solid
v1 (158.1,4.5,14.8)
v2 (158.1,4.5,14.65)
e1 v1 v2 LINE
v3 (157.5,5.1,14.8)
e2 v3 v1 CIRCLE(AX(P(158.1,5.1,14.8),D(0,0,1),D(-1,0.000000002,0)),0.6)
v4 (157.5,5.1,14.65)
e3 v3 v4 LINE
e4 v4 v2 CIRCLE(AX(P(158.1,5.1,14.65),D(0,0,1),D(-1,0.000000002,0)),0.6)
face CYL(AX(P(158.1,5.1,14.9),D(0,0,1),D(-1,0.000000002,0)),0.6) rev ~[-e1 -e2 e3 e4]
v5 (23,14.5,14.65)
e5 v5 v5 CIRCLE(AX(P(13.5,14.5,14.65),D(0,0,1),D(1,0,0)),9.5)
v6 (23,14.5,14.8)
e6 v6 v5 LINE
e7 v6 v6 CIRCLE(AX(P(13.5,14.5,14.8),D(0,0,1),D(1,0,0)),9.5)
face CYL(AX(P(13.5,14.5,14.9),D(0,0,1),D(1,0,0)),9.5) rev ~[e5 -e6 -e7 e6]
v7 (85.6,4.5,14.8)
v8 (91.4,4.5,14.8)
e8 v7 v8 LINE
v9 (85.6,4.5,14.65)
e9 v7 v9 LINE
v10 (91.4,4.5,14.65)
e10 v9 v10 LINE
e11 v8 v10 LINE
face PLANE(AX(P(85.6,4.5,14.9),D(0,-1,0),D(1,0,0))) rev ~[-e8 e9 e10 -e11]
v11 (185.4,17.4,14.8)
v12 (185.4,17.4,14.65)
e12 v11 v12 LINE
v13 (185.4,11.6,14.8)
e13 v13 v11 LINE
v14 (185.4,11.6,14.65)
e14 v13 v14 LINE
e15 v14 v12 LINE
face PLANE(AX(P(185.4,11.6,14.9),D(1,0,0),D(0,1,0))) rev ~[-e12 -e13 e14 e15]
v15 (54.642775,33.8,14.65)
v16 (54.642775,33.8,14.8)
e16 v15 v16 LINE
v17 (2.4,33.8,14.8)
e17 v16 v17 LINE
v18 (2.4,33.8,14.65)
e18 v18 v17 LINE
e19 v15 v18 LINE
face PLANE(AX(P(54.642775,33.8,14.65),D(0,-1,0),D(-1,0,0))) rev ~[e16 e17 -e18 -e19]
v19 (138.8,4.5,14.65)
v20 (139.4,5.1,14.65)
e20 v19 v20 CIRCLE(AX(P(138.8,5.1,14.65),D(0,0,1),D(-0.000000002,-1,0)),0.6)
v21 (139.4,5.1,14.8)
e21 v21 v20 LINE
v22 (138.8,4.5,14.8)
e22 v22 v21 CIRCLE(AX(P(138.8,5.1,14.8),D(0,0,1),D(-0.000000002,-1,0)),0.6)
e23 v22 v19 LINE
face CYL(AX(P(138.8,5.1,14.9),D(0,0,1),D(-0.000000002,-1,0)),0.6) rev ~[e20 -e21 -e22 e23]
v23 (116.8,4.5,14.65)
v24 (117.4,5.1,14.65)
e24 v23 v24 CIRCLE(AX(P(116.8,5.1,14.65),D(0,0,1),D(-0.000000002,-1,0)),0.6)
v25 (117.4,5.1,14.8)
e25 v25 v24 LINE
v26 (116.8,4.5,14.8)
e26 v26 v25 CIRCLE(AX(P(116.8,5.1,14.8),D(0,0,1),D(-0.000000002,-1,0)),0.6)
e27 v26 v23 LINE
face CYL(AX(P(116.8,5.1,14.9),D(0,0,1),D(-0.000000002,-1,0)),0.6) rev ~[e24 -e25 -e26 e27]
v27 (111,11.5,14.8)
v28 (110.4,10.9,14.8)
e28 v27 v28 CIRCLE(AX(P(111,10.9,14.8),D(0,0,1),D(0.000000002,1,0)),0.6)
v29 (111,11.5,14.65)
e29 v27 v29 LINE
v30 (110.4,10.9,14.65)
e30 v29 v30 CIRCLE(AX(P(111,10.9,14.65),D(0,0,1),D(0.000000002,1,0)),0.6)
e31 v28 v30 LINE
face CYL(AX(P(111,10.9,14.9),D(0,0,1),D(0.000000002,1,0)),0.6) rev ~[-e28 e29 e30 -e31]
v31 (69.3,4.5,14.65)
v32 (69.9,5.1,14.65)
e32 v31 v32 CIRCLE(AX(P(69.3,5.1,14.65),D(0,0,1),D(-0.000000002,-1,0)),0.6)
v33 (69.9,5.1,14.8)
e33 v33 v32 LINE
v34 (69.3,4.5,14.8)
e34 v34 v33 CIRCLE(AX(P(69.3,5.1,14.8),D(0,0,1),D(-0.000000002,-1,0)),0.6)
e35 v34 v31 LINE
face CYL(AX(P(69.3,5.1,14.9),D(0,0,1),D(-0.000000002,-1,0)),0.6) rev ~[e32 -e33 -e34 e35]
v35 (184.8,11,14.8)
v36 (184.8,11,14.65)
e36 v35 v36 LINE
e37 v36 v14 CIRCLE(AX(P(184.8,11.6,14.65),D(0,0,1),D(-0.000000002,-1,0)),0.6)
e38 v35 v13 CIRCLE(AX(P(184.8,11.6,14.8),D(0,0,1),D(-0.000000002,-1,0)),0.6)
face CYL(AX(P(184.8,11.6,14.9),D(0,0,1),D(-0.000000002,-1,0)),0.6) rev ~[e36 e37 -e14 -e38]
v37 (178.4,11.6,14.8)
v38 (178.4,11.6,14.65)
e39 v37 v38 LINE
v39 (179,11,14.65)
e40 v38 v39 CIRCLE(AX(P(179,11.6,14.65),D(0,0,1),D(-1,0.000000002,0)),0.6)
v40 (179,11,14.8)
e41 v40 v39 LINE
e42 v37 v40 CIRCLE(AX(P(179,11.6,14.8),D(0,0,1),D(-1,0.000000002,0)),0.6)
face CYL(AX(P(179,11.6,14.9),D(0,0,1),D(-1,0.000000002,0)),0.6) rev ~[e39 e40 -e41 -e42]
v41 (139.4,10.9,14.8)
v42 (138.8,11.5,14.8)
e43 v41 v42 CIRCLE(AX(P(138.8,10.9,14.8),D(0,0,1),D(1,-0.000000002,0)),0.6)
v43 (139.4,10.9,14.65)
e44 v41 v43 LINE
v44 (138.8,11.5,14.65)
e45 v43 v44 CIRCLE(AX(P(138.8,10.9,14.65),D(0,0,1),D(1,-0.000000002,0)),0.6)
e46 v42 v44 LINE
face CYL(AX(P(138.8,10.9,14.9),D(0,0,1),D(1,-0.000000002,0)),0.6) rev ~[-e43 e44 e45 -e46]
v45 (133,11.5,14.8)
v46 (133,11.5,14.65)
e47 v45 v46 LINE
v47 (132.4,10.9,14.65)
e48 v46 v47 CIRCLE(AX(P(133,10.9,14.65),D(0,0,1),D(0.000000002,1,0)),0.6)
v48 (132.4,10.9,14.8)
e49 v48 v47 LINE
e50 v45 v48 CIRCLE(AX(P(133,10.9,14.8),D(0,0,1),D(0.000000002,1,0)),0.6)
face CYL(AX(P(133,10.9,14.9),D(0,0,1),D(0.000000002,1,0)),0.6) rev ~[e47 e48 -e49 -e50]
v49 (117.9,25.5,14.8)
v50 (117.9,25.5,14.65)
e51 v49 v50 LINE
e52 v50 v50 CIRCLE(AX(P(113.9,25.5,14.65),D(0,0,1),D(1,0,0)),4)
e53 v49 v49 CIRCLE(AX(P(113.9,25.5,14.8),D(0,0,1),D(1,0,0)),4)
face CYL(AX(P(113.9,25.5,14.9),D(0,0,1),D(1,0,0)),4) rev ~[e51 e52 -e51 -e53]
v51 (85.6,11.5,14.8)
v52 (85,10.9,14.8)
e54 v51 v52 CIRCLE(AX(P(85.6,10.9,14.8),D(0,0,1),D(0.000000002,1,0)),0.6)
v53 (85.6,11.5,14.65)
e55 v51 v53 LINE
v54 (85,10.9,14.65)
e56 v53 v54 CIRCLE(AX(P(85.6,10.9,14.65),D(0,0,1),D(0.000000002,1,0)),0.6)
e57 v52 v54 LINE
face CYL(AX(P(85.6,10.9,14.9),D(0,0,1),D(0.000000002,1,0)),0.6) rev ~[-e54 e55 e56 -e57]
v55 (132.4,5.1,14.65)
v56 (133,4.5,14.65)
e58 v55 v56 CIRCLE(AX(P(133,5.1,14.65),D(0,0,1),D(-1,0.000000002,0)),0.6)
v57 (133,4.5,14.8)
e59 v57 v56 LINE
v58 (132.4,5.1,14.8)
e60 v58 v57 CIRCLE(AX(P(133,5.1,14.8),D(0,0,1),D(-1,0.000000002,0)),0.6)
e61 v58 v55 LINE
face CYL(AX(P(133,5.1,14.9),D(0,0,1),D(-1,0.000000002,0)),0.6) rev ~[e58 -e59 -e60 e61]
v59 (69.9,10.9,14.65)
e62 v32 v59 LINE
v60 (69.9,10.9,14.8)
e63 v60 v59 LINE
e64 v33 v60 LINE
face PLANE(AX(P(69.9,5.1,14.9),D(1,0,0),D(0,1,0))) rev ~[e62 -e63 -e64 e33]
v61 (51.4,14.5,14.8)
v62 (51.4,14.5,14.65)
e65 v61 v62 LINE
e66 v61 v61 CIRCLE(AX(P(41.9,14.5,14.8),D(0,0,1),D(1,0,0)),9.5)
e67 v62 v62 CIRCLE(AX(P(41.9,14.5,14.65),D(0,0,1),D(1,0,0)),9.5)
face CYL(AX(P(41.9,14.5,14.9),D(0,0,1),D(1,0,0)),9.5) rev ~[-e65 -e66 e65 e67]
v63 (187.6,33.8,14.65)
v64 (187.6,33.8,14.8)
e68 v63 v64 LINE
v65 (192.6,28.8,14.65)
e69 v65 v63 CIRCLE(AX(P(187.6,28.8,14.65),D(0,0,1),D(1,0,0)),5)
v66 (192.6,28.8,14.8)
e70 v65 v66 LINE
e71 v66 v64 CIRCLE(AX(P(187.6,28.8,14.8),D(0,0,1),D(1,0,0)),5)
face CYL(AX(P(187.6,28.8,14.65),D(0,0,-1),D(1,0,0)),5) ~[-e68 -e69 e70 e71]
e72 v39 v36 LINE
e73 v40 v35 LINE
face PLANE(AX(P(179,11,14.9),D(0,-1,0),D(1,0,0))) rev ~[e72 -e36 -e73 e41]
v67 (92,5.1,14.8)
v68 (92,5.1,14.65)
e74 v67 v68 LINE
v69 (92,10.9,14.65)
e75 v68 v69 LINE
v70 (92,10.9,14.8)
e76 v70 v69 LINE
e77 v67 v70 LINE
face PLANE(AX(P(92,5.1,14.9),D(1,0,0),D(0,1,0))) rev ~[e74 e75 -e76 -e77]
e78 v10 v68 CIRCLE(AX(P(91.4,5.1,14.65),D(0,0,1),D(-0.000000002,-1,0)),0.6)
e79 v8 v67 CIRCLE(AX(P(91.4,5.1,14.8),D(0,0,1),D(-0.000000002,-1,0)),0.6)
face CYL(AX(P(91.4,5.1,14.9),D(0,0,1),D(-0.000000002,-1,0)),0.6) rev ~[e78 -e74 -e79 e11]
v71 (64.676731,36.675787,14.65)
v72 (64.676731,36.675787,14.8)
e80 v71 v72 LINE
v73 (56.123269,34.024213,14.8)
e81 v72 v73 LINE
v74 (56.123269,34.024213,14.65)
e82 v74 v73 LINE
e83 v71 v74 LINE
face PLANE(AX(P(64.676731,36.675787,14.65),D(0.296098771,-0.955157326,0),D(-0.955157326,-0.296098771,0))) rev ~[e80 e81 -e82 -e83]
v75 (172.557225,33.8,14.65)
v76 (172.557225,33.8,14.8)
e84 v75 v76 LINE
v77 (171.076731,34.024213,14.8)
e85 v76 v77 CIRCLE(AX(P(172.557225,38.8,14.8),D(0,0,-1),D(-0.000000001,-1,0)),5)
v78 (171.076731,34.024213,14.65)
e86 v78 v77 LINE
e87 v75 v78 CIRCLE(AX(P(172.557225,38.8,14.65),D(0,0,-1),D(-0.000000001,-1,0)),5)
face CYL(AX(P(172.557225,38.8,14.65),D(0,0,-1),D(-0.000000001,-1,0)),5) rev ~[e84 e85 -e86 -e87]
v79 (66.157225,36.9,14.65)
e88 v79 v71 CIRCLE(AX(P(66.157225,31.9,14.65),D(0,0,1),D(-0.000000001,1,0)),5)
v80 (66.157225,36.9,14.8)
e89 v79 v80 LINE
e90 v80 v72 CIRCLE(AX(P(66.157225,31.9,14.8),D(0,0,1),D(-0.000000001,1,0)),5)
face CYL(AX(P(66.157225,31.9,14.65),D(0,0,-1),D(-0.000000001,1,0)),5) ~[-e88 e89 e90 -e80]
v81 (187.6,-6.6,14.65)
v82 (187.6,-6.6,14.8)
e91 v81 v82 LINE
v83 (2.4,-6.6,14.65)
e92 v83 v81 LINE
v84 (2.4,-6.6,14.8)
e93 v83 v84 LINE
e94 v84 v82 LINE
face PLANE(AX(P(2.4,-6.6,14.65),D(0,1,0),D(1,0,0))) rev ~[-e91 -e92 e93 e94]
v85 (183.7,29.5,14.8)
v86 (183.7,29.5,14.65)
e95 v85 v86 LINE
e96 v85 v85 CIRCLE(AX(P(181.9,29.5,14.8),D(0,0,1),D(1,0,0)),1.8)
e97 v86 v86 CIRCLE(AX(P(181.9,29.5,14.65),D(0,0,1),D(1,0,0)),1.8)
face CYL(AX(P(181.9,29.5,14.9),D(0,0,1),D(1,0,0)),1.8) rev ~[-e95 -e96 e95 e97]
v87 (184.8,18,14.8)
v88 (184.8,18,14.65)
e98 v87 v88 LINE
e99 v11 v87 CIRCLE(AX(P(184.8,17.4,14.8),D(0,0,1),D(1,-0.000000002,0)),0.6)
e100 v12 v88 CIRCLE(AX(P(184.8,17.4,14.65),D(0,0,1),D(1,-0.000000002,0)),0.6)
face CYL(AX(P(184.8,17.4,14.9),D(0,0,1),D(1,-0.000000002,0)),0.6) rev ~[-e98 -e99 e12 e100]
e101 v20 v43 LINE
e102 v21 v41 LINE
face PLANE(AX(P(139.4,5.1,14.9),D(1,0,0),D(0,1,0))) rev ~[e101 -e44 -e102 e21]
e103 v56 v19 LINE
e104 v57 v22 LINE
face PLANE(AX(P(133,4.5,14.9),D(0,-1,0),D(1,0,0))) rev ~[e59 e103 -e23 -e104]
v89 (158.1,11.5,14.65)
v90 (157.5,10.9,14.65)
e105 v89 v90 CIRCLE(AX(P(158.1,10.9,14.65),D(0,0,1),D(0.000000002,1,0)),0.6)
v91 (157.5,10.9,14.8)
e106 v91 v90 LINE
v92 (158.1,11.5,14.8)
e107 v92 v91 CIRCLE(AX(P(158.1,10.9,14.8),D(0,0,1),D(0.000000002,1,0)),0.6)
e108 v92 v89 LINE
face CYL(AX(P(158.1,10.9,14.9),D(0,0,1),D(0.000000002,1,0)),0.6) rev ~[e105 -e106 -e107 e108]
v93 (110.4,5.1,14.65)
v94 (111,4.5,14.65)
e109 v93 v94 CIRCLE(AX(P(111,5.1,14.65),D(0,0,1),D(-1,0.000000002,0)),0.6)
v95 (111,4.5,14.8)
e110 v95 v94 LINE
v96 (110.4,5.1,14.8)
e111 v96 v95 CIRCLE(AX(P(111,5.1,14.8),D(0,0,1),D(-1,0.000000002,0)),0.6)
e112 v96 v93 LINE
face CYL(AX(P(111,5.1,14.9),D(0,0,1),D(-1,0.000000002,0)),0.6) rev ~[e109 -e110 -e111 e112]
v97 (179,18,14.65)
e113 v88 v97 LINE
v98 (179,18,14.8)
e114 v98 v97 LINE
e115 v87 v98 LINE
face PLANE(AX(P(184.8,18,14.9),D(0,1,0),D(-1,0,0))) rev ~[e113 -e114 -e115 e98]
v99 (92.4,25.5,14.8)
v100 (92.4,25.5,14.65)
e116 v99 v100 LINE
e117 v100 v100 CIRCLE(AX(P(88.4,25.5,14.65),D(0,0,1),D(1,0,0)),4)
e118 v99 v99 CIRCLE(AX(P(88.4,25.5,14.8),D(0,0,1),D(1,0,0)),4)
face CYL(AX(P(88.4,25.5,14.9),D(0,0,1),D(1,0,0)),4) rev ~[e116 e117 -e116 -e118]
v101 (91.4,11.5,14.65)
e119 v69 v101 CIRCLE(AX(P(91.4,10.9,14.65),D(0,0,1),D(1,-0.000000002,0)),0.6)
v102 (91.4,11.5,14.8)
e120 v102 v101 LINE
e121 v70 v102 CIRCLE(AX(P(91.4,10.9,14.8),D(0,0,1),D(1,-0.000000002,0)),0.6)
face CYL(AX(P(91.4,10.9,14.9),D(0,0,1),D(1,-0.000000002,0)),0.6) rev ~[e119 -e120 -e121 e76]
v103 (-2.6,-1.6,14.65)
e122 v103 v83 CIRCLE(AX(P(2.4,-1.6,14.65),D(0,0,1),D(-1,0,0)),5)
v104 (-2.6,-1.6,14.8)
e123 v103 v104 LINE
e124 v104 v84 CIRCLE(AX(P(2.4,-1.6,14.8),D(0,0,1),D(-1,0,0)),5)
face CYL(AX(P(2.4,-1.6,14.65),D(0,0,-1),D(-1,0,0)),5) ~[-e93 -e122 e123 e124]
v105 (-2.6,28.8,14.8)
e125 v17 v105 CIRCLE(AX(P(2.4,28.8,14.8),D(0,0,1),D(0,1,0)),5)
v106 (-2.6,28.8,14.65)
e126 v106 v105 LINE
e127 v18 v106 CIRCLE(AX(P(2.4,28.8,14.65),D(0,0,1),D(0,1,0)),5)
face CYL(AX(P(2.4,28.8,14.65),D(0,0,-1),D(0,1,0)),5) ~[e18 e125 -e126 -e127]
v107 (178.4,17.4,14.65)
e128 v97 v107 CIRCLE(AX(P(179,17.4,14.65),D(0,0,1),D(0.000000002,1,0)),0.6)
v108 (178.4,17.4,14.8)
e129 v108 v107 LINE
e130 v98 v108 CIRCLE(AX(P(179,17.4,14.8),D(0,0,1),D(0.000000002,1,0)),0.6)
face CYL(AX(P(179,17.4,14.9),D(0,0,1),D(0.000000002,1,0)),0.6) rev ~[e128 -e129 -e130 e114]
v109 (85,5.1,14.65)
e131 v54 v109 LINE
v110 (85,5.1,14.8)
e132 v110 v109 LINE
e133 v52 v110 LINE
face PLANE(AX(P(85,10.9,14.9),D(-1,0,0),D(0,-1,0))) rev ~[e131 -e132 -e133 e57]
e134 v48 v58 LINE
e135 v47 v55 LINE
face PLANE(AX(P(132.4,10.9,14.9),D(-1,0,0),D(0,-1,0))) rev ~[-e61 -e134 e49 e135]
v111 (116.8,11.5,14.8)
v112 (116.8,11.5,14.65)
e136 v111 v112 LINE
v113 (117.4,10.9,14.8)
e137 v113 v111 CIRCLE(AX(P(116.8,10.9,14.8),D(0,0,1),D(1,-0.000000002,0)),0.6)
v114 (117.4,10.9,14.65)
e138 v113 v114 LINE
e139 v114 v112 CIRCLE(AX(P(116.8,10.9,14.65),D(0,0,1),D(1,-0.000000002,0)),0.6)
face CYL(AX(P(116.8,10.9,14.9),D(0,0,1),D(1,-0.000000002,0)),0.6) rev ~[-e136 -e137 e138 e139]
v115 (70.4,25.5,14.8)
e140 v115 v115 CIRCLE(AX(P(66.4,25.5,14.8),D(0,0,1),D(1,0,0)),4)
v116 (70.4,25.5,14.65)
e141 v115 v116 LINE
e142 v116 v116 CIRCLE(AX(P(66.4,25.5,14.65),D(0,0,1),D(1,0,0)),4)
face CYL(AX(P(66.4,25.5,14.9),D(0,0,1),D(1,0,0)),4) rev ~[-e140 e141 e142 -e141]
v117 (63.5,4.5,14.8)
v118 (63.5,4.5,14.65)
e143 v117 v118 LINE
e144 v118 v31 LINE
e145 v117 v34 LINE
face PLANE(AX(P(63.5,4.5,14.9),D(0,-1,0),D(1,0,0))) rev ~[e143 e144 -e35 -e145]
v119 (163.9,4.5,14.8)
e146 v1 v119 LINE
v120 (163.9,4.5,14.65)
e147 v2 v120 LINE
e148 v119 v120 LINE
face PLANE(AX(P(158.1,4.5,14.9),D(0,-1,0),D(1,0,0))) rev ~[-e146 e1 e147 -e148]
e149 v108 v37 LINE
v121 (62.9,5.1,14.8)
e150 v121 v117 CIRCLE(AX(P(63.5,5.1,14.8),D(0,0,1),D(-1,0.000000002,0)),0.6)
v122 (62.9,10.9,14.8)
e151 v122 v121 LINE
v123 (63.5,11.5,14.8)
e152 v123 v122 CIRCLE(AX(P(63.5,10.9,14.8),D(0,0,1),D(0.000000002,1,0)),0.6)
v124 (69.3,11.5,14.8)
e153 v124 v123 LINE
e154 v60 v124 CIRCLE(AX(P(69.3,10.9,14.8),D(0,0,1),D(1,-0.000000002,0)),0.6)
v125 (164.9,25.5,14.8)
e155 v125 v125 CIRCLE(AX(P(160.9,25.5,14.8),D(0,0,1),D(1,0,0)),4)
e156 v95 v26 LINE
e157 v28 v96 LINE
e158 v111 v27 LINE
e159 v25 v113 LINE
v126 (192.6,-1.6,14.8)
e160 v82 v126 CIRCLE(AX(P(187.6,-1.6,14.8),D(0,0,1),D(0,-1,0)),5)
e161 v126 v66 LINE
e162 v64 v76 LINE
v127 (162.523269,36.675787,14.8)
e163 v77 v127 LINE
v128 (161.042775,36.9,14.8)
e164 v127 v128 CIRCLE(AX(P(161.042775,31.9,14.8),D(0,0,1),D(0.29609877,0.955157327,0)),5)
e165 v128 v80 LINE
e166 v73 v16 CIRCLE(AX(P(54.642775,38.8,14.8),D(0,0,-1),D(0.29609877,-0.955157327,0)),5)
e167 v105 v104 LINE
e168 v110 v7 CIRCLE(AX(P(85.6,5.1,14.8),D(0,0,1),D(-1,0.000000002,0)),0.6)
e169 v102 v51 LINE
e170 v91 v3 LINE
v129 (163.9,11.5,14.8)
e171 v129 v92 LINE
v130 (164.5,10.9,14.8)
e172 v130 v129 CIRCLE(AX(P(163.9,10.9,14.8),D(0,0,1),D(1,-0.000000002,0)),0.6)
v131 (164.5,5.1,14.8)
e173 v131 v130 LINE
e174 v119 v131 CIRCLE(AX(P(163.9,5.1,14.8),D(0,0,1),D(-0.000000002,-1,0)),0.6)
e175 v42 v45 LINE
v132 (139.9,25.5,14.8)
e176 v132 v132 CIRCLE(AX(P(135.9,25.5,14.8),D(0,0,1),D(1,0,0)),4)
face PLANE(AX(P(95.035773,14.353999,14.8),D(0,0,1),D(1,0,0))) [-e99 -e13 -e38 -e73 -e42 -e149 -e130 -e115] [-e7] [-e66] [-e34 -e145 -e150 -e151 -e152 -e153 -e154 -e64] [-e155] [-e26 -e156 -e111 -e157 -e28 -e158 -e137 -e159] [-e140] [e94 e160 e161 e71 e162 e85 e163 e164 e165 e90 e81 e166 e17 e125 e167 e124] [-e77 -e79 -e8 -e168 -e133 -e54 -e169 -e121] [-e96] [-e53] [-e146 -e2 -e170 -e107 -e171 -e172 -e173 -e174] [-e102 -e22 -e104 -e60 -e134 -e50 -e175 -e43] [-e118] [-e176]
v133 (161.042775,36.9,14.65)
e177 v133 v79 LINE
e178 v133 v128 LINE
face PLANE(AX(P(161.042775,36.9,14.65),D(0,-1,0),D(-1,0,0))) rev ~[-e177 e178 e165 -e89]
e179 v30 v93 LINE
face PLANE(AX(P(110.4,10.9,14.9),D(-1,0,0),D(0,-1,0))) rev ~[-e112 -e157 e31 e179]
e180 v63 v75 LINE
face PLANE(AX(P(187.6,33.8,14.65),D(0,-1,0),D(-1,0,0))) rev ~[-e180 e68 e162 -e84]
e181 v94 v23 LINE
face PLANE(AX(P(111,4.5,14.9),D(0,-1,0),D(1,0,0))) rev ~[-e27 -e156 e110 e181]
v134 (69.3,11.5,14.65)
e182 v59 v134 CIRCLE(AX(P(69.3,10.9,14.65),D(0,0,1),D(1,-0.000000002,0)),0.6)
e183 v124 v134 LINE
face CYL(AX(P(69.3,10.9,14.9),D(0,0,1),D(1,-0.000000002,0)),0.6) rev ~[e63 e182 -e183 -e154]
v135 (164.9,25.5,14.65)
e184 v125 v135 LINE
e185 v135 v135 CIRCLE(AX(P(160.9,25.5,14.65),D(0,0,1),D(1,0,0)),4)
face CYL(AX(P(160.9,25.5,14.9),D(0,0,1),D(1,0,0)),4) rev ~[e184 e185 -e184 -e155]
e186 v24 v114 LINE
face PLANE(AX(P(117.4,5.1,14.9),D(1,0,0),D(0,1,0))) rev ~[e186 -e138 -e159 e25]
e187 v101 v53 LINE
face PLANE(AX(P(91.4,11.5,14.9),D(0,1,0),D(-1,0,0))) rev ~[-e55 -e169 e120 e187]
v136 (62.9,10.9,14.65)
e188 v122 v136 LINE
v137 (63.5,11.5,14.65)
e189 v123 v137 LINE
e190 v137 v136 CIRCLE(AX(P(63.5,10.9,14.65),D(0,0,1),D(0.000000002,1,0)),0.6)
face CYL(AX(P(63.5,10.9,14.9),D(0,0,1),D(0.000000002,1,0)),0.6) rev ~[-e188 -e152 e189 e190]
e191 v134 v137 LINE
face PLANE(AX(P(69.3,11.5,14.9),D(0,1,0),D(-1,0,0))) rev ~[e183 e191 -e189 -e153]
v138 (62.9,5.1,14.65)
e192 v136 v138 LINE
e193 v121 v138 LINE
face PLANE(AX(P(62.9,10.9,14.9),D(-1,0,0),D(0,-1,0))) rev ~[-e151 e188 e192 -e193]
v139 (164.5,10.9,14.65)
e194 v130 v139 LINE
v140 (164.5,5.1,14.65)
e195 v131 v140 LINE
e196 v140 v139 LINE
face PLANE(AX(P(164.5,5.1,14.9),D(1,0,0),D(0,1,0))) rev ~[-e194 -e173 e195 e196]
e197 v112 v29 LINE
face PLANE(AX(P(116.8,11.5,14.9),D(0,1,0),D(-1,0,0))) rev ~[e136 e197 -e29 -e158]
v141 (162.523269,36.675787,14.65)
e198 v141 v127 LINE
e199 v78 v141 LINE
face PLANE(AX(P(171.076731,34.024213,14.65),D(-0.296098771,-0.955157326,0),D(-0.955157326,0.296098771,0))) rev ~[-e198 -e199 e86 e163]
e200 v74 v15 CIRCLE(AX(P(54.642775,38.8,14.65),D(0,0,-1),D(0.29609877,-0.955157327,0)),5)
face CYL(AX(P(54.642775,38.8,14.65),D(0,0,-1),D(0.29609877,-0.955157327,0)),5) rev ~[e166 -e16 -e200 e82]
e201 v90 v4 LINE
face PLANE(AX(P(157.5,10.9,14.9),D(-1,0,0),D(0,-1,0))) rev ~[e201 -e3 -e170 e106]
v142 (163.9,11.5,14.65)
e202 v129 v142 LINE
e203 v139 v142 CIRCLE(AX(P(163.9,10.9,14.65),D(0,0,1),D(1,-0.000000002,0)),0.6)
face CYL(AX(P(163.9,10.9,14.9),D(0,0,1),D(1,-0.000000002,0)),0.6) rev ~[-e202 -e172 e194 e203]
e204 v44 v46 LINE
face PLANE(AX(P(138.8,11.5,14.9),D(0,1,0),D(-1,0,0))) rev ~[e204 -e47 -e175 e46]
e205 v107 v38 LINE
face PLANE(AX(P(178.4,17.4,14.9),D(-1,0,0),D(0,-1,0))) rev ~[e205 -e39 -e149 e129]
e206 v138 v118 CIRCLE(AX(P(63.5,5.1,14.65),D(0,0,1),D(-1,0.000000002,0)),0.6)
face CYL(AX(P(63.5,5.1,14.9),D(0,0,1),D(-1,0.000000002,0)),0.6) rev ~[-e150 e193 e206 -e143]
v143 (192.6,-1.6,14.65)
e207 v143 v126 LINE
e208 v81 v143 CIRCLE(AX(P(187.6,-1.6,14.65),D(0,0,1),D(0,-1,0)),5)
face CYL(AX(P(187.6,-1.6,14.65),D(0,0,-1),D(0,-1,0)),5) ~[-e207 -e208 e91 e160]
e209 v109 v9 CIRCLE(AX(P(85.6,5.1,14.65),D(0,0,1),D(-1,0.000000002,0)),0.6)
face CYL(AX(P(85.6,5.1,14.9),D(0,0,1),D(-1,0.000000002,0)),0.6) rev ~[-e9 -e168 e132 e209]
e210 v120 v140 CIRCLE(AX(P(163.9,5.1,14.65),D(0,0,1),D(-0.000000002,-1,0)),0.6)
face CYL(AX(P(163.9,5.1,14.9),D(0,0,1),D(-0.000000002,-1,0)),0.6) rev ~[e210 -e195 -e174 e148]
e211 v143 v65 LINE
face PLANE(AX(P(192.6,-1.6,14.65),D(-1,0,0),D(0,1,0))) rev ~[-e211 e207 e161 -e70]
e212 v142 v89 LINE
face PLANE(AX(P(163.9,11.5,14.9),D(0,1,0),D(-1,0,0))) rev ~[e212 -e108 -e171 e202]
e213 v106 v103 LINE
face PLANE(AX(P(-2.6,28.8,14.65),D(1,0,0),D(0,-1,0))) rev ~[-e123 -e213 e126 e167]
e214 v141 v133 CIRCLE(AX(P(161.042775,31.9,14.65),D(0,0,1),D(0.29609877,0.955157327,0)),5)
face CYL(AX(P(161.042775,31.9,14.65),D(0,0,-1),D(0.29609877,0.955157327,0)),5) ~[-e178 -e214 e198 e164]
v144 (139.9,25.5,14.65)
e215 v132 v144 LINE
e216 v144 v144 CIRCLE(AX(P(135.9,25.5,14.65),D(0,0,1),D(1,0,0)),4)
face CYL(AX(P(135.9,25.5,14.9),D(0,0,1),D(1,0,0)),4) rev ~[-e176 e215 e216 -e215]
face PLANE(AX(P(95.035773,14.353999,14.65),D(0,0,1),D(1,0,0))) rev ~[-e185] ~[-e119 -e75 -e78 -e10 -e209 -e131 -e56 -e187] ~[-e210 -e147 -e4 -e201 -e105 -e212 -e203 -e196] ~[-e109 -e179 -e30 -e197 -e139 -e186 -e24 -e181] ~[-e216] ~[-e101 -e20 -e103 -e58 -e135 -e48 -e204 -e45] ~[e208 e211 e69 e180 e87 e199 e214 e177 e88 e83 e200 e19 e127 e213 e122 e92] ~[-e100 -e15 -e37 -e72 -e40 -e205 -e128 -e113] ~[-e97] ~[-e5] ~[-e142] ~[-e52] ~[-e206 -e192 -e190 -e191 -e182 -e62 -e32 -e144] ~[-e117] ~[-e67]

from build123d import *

# Parameters (mm, degrees)
PRINTED_FILM_START              = 14.65
PRINTED_FILM_DEPTH              = 0.15
OPENING_BNC_CHANNEL_0_START     = 14.9
OPENING_BNC_CHANNEL_0_PROFILE_R = 9.5
OPENING_BNC_CHANNEL_0_DEPTH     = 0.35
OPENING_BNC_CHANNEL_1_START     = 14.9
OPENING_BNC_CHANNEL_1_PROFILE_R = 9.5
OPENING_BNC_CHANNEL_1_DEPTH     = 0.35
OPENING_LED_RUN_START           = 14.9
OPENING_LED_RUN_PROFILE_R       = 1.8
OPENING_LED_RUN_DEPTH           = 0.35
OPENING_FUNC_START              = 14.9
OPENING_FUNC_PROFILE_R          = 4
OPENING_FUNC_DEPTH              = 0.35
OPENING_TRG_MODE_START          = 14.9
OPENING_TRG_MODE_DEPTH          = 0.35
OPENING_CURSOR_START            = 14.9
OPENING_CURSOR_DEPTH            = 0.35
OPENING_EN_CH1_START            = 14.9
OPENING_EN_CH1_DEPTH            = 0.35
OPENING_TRG_START               = 14.9
OPENING_TRG_PROFILE_R           = 4
OPENING_TRG_DEPTH               = 0.35
OPENING_TIME_START              = 14.9
OPENING_TIME_PROFILE_R          = 4
OPENING_TIME_DEPTH              = 0.35
OPENING_SET_CH1_START           = 14.9
OPENING_SET_CH1_PROFILE_R       = 4
OPENING_SET_CH1_DEPTH           = 0.35
OPENING_SET_CH0_START           = 14.9
OPENING_SET_CH0_PROFILE_R       = 4
OPENING_SET_CH0_DEPTH           = 0.35
OPENING_RUN_STOP_START          = 14.9
OPENING_RUN_STOP_DEPTH          = 0.35
OPENING_MENU_BACK_START         = 14.9
OPENING_MENU_BACK_DEPTH         = 0.35
OPENING_EN_CH0_START            = 14.9
OPENING_EN_CH0_DEPTH            = 0.35


with BuildPart() as part:
    # Printed_film_profile → Printed_film (new body)
    with BuildSketch(Plane.XY.offset(PRINTED_FILM_START)):
        with BuildLine():
            Line((2.4, -6.6), (187.6, -6.6))
            ThreePointArc((187.6, -6.6), (191.135533906, -5.135533906), (192.6, -1.6))
            Line((192.6, -1.6), (192.6, 28.8))
            ThreePointArc((192.6, 28.8), (191.135533906, 32.335533906), (187.6, 33.8))
            Line((187.6, 33.8), (172.557224923, 33.8))
            ThreePointArc((172.557224923, 33.8), (171.808537122, 33.856371113), (171.076731067, 34.024213369))
            Line((171.076731067, 34.024213369), (162.523268933, 36.675786631))
            ThreePointArc((162.523268933, 36.675786631), (161.791462878, 36.843628887), (161.042775077, 36.9))
            Line((161.042775077, 36.9), (66.157224923, 36.9))
            ThreePointArc((66.157224923, 36.9), (65.408537122, 36.843628887), (64.676731067, 36.675786631))
            Line((64.676731067, 36.675786631), (56.123268933, 34.024213369))
            ThreePointArc((56.123268933, 34.024213369), (55.391462878, 33.856371113), (54.642775077, 33.8))
            Line((54.642775077, 33.8), (2.4, 33.8))
            ThreePointArc((2.4, 33.8), (-1.135533906, 32.335533906), (-2.6, 28.8))
            Line((-2.6, 28.8), (-2.6, -1.6))
            ThreePointArc((-2.6, -1.6), (-1.135533906, -5.135533906), (2.4, -6.6))
        make_face()
    extrude(amount=PRINTED_FILM_DEPTH)

    # Opening_BNC_Channel_0_profile → Opening_BNC_Channel_0 (cut)
    with BuildSketch(Plane.XY.offset(OPENING_BNC_CHANNEL_0_START)):
        with Locations((13.5, 14.5)):
            Circle(OPENING_BNC_CHANNEL_0_PROFILE_R)
    extrude(amount=-OPENING_BNC_CHANNEL_0_DEPTH, mode=Mode.SUBTRACT)

    # Opening_BNC_Channel_1_profile → Opening_BNC_Channel_1 (cut)
    with BuildSketch(Plane.XY.offset(OPENING_BNC_CHANNEL_1_START)):
        with Locations((41.9, 14.5)):
            Circle(OPENING_BNC_CHANNEL_1_PROFILE_R)
    extrude(amount=-OPENING_BNC_CHANNEL_1_DEPTH, mode=Mode.SUBTRACT)

    # Opening_LED_RUN_profile → Opening_LED_RUN (cut)
    with BuildSketch(Plane.XY.offset(OPENING_LED_RUN_START)):
        with Locations((181.9, 29.5)):
            Circle(OPENING_LED_RUN_PROFILE_R)
    extrude(amount=-OPENING_LED_RUN_DEPTH, mode=Mode.SUBTRACT)

    # Opening_FUNC_profile → Opening_FUNC (cut)
    with BuildSketch(Plane.XY.offset(OPENING_FUNC_START)):
        with Locations((160.9, 25.5)):
            Circle(OPENING_FUNC_PROFILE_R)
    extrude(amount=-OPENING_FUNC_DEPTH, mode=Mode.SUBTRACT)

    # Opening_TRG_MODE_profile → Opening_TRG_MODE (cut)
    with BuildSketch(Plane.XY.offset(OPENING_TRG_MODE_START)):
        with BuildLine():
            Line((133, 4.5), (138.8, 4.5))
            ThreePointArc((138.8, 4.5), (139.224264069, 4.675735931), (139.4, 5.1))
            Line((139.4, 5.1), (139.4, 10.9))
            ThreePointArc((139.4, 10.9), (139.224264069, 11.324264069), (138.8, 11.5))
            Line((138.8, 11.5), (133, 11.5))
            ThreePointArc((133, 11.5), (132.575735931, 11.324264069), (132.4, 10.9))
            Line((132.4, 10.9), (132.4, 5.1))
            ThreePointArc((132.4, 5.1), (132.575735931, 4.675735931), (133, 4.5))
        make_face()
    extrude(amount=-OPENING_TRG_MODE_DEPTH, mode=Mode.SUBTRACT)

    # Opening_CURSOR_profile → Opening_CURSOR (cut)
    with BuildSketch(Plane.XY.offset(OPENING_CURSOR_START)):
        with BuildLine():
            Line((111, 4.5), (116.8, 4.5))
            ThreePointArc((116.8, 4.5), (117.224264069, 4.675735931), (117.4, 5.1))
            Line((117.4, 5.1), (117.4, 10.9))
            ThreePointArc((117.4, 10.9), (117.224264069, 11.324264069), (116.8, 11.5))
            Line((116.8, 11.5), (111, 11.5))
            ThreePointArc((111, 11.5), (110.575735931, 11.324264069), (110.4, 10.9))
            Line((110.4, 10.9), (110.4, 5.1))
            ThreePointArc((110.4, 5.1), (110.575735931, 4.675735931), (111, 4.5))
        make_face()
    extrude(amount=-OPENING_CURSOR_DEPTH, mode=Mode.SUBTRACT)

    # Opening_EN_CH1_profile → Opening_EN_CH1 (cut)
    with BuildSketch(Plane.XY.offset(OPENING_EN_CH1_START)):
        with BuildLine():
            Line((85.6, 4.5), (91.4, 4.5))
            ThreePointArc((91.4, 4.5), (91.824264069, 4.675735931), (92, 5.1))
            Line((92, 5.1), (92, 10.9))
            ThreePointArc((92, 10.9), (91.824264069, 11.324264069), (91.4, 11.5))
            Line((91.4, 11.5), (85.6, 11.5))
            ThreePointArc((85.6, 11.5), (85.175735931, 11.324264069), (85, 10.9))
            Line((85, 10.9), (85, 5.1))
            ThreePointArc((85, 5.1), (85.175735931, 4.675735931), (85.6, 4.5))
        make_face()
    extrude(amount=-OPENING_EN_CH1_DEPTH, mode=Mode.SUBTRACT)

    # Opening_TRG_profile → Opening_TRG (cut)
    with BuildSketch(Plane.XY.offset(OPENING_TRG_START)):
        with Locations((135.9, 25.5)):
            Circle(OPENING_TRG_PROFILE_R)
    extrude(amount=-OPENING_TRG_DEPTH, mode=Mode.SUBTRACT)

    # Opening_TIME_profile → Opening_TIME (cut)
    with BuildSketch(Plane.XY.offset(OPENING_TIME_START)):
        with Locations((113.9, 25.5)):
            Circle(OPENING_TIME_PROFILE_R)
    extrude(amount=-OPENING_TIME_DEPTH, mode=Mode.SUBTRACT)

    # Opening_SET_CH1_profile → Opening_SET_CH1 (cut)
    with BuildSketch(Plane.XY.offset(OPENING_SET_CH1_START)):
        with Locations((88.4, 25.5)):
            Circle(OPENING_SET_CH1_PROFILE_R)
    extrude(amount=-OPENING_SET_CH1_DEPTH, mode=Mode.SUBTRACT)

    # Opening_SET_CH0_profile → Opening_SET_CH0 (cut)
    with BuildSketch(Plane.XY.offset(OPENING_SET_CH0_START)):
        with Locations((66.4, 25.5)):
            Circle(OPENING_SET_CH0_PROFILE_R)
    extrude(amount=-OPENING_SET_CH0_DEPTH, mode=Mode.SUBTRACT)

    # Opening_RUN_STOP_profile → Opening_RUN_STOP (cut)
    with BuildSketch(Plane.XY.offset(OPENING_RUN_STOP_START)):
        with BuildLine():
            Line((179, 11), (184.8, 11))
            ThreePointArc((184.8, 11), (185.224264069, 11.175735931), (185.4, 11.6))
            Line((185.4, 11.6), (185.4, 17.4))
            ThreePointArc((185.4, 17.4), (185.224264069, 17.824264069), (184.8, 18))
            Line((184.8, 18), (179, 18))
            ThreePointArc((179, 18), (178.575735931, 17.824264069), (178.4, 17.4))
            Line((178.4, 17.4), (178.4, 11.6))
            ThreePointArc((178.4, 11.6), (178.575735931, 11.175735931), (179, 11))
        make_face()
    extrude(amount=-OPENING_RUN_STOP_DEPTH, mode=Mode.SUBTRACT)

    # Opening_MENU_BACK_profile → Opening_MENU_BACK (cut)
    with BuildSketch(Plane.XY.offset(OPENING_MENU_BACK_START)):
        with BuildLine():
            Line((158.1, 4.5), (163.9, 4.5))
            ThreePointArc((163.9, 4.5), (164.324264069, 4.675735931), (164.5, 5.1))
            Line((164.5, 5.1), (164.5, 10.9))
            ThreePointArc((164.5, 10.9), (164.324264069, 11.324264069), (163.9, 11.5))
            Line((163.9, 11.5), (158.1, 11.5))
            ThreePointArc((158.1, 11.5), (157.675735931, 11.324264069), (157.5, 10.9))
            Line((157.5, 10.9), (157.5, 5.1))
            ThreePointArc((157.5, 5.1), (157.675735931, 4.675735931), (158.1, 4.5))
        make_face()
    extrude(amount=-OPENING_MENU_BACK_DEPTH, mode=Mode.SUBTRACT)

    # Opening_EN_CH0_profile → Opening_EN_CH0 (cut)
    with BuildSketch(Plane.XY.offset(OPENING_EN_CH0_START)):
        with BuildLine():
            Line((63.5, 4.5), (69.3, 4.5))
            ThreePointArc((69.3, 4.5), (69.724264069, 4.675735931), (69.9, 5.1))
            Line((69.9, 5.1), (69.9, 10.9))
            ThreePointArc((69.9, 10.9), (69.724264069, 11.324264069), (69.3, 11.5))
            Line((69.3, 11.5), (63.5, 11.5))
            ThreePointArc((63.5, 11.5), (63.075735931, 11.324264069), (62.9, 10.9))
            Line((62.9, 10.9), (62.9, 5.1))
            ThreePointArc((62.9, 5.1), (63.075735931, 4.675735931), (63.5, 4.5))
        make_face()
    extrude(amount=-OPENING_EN_CH0_DEPTH, mode=Mode.SUBTRACT)


solid = part.part
